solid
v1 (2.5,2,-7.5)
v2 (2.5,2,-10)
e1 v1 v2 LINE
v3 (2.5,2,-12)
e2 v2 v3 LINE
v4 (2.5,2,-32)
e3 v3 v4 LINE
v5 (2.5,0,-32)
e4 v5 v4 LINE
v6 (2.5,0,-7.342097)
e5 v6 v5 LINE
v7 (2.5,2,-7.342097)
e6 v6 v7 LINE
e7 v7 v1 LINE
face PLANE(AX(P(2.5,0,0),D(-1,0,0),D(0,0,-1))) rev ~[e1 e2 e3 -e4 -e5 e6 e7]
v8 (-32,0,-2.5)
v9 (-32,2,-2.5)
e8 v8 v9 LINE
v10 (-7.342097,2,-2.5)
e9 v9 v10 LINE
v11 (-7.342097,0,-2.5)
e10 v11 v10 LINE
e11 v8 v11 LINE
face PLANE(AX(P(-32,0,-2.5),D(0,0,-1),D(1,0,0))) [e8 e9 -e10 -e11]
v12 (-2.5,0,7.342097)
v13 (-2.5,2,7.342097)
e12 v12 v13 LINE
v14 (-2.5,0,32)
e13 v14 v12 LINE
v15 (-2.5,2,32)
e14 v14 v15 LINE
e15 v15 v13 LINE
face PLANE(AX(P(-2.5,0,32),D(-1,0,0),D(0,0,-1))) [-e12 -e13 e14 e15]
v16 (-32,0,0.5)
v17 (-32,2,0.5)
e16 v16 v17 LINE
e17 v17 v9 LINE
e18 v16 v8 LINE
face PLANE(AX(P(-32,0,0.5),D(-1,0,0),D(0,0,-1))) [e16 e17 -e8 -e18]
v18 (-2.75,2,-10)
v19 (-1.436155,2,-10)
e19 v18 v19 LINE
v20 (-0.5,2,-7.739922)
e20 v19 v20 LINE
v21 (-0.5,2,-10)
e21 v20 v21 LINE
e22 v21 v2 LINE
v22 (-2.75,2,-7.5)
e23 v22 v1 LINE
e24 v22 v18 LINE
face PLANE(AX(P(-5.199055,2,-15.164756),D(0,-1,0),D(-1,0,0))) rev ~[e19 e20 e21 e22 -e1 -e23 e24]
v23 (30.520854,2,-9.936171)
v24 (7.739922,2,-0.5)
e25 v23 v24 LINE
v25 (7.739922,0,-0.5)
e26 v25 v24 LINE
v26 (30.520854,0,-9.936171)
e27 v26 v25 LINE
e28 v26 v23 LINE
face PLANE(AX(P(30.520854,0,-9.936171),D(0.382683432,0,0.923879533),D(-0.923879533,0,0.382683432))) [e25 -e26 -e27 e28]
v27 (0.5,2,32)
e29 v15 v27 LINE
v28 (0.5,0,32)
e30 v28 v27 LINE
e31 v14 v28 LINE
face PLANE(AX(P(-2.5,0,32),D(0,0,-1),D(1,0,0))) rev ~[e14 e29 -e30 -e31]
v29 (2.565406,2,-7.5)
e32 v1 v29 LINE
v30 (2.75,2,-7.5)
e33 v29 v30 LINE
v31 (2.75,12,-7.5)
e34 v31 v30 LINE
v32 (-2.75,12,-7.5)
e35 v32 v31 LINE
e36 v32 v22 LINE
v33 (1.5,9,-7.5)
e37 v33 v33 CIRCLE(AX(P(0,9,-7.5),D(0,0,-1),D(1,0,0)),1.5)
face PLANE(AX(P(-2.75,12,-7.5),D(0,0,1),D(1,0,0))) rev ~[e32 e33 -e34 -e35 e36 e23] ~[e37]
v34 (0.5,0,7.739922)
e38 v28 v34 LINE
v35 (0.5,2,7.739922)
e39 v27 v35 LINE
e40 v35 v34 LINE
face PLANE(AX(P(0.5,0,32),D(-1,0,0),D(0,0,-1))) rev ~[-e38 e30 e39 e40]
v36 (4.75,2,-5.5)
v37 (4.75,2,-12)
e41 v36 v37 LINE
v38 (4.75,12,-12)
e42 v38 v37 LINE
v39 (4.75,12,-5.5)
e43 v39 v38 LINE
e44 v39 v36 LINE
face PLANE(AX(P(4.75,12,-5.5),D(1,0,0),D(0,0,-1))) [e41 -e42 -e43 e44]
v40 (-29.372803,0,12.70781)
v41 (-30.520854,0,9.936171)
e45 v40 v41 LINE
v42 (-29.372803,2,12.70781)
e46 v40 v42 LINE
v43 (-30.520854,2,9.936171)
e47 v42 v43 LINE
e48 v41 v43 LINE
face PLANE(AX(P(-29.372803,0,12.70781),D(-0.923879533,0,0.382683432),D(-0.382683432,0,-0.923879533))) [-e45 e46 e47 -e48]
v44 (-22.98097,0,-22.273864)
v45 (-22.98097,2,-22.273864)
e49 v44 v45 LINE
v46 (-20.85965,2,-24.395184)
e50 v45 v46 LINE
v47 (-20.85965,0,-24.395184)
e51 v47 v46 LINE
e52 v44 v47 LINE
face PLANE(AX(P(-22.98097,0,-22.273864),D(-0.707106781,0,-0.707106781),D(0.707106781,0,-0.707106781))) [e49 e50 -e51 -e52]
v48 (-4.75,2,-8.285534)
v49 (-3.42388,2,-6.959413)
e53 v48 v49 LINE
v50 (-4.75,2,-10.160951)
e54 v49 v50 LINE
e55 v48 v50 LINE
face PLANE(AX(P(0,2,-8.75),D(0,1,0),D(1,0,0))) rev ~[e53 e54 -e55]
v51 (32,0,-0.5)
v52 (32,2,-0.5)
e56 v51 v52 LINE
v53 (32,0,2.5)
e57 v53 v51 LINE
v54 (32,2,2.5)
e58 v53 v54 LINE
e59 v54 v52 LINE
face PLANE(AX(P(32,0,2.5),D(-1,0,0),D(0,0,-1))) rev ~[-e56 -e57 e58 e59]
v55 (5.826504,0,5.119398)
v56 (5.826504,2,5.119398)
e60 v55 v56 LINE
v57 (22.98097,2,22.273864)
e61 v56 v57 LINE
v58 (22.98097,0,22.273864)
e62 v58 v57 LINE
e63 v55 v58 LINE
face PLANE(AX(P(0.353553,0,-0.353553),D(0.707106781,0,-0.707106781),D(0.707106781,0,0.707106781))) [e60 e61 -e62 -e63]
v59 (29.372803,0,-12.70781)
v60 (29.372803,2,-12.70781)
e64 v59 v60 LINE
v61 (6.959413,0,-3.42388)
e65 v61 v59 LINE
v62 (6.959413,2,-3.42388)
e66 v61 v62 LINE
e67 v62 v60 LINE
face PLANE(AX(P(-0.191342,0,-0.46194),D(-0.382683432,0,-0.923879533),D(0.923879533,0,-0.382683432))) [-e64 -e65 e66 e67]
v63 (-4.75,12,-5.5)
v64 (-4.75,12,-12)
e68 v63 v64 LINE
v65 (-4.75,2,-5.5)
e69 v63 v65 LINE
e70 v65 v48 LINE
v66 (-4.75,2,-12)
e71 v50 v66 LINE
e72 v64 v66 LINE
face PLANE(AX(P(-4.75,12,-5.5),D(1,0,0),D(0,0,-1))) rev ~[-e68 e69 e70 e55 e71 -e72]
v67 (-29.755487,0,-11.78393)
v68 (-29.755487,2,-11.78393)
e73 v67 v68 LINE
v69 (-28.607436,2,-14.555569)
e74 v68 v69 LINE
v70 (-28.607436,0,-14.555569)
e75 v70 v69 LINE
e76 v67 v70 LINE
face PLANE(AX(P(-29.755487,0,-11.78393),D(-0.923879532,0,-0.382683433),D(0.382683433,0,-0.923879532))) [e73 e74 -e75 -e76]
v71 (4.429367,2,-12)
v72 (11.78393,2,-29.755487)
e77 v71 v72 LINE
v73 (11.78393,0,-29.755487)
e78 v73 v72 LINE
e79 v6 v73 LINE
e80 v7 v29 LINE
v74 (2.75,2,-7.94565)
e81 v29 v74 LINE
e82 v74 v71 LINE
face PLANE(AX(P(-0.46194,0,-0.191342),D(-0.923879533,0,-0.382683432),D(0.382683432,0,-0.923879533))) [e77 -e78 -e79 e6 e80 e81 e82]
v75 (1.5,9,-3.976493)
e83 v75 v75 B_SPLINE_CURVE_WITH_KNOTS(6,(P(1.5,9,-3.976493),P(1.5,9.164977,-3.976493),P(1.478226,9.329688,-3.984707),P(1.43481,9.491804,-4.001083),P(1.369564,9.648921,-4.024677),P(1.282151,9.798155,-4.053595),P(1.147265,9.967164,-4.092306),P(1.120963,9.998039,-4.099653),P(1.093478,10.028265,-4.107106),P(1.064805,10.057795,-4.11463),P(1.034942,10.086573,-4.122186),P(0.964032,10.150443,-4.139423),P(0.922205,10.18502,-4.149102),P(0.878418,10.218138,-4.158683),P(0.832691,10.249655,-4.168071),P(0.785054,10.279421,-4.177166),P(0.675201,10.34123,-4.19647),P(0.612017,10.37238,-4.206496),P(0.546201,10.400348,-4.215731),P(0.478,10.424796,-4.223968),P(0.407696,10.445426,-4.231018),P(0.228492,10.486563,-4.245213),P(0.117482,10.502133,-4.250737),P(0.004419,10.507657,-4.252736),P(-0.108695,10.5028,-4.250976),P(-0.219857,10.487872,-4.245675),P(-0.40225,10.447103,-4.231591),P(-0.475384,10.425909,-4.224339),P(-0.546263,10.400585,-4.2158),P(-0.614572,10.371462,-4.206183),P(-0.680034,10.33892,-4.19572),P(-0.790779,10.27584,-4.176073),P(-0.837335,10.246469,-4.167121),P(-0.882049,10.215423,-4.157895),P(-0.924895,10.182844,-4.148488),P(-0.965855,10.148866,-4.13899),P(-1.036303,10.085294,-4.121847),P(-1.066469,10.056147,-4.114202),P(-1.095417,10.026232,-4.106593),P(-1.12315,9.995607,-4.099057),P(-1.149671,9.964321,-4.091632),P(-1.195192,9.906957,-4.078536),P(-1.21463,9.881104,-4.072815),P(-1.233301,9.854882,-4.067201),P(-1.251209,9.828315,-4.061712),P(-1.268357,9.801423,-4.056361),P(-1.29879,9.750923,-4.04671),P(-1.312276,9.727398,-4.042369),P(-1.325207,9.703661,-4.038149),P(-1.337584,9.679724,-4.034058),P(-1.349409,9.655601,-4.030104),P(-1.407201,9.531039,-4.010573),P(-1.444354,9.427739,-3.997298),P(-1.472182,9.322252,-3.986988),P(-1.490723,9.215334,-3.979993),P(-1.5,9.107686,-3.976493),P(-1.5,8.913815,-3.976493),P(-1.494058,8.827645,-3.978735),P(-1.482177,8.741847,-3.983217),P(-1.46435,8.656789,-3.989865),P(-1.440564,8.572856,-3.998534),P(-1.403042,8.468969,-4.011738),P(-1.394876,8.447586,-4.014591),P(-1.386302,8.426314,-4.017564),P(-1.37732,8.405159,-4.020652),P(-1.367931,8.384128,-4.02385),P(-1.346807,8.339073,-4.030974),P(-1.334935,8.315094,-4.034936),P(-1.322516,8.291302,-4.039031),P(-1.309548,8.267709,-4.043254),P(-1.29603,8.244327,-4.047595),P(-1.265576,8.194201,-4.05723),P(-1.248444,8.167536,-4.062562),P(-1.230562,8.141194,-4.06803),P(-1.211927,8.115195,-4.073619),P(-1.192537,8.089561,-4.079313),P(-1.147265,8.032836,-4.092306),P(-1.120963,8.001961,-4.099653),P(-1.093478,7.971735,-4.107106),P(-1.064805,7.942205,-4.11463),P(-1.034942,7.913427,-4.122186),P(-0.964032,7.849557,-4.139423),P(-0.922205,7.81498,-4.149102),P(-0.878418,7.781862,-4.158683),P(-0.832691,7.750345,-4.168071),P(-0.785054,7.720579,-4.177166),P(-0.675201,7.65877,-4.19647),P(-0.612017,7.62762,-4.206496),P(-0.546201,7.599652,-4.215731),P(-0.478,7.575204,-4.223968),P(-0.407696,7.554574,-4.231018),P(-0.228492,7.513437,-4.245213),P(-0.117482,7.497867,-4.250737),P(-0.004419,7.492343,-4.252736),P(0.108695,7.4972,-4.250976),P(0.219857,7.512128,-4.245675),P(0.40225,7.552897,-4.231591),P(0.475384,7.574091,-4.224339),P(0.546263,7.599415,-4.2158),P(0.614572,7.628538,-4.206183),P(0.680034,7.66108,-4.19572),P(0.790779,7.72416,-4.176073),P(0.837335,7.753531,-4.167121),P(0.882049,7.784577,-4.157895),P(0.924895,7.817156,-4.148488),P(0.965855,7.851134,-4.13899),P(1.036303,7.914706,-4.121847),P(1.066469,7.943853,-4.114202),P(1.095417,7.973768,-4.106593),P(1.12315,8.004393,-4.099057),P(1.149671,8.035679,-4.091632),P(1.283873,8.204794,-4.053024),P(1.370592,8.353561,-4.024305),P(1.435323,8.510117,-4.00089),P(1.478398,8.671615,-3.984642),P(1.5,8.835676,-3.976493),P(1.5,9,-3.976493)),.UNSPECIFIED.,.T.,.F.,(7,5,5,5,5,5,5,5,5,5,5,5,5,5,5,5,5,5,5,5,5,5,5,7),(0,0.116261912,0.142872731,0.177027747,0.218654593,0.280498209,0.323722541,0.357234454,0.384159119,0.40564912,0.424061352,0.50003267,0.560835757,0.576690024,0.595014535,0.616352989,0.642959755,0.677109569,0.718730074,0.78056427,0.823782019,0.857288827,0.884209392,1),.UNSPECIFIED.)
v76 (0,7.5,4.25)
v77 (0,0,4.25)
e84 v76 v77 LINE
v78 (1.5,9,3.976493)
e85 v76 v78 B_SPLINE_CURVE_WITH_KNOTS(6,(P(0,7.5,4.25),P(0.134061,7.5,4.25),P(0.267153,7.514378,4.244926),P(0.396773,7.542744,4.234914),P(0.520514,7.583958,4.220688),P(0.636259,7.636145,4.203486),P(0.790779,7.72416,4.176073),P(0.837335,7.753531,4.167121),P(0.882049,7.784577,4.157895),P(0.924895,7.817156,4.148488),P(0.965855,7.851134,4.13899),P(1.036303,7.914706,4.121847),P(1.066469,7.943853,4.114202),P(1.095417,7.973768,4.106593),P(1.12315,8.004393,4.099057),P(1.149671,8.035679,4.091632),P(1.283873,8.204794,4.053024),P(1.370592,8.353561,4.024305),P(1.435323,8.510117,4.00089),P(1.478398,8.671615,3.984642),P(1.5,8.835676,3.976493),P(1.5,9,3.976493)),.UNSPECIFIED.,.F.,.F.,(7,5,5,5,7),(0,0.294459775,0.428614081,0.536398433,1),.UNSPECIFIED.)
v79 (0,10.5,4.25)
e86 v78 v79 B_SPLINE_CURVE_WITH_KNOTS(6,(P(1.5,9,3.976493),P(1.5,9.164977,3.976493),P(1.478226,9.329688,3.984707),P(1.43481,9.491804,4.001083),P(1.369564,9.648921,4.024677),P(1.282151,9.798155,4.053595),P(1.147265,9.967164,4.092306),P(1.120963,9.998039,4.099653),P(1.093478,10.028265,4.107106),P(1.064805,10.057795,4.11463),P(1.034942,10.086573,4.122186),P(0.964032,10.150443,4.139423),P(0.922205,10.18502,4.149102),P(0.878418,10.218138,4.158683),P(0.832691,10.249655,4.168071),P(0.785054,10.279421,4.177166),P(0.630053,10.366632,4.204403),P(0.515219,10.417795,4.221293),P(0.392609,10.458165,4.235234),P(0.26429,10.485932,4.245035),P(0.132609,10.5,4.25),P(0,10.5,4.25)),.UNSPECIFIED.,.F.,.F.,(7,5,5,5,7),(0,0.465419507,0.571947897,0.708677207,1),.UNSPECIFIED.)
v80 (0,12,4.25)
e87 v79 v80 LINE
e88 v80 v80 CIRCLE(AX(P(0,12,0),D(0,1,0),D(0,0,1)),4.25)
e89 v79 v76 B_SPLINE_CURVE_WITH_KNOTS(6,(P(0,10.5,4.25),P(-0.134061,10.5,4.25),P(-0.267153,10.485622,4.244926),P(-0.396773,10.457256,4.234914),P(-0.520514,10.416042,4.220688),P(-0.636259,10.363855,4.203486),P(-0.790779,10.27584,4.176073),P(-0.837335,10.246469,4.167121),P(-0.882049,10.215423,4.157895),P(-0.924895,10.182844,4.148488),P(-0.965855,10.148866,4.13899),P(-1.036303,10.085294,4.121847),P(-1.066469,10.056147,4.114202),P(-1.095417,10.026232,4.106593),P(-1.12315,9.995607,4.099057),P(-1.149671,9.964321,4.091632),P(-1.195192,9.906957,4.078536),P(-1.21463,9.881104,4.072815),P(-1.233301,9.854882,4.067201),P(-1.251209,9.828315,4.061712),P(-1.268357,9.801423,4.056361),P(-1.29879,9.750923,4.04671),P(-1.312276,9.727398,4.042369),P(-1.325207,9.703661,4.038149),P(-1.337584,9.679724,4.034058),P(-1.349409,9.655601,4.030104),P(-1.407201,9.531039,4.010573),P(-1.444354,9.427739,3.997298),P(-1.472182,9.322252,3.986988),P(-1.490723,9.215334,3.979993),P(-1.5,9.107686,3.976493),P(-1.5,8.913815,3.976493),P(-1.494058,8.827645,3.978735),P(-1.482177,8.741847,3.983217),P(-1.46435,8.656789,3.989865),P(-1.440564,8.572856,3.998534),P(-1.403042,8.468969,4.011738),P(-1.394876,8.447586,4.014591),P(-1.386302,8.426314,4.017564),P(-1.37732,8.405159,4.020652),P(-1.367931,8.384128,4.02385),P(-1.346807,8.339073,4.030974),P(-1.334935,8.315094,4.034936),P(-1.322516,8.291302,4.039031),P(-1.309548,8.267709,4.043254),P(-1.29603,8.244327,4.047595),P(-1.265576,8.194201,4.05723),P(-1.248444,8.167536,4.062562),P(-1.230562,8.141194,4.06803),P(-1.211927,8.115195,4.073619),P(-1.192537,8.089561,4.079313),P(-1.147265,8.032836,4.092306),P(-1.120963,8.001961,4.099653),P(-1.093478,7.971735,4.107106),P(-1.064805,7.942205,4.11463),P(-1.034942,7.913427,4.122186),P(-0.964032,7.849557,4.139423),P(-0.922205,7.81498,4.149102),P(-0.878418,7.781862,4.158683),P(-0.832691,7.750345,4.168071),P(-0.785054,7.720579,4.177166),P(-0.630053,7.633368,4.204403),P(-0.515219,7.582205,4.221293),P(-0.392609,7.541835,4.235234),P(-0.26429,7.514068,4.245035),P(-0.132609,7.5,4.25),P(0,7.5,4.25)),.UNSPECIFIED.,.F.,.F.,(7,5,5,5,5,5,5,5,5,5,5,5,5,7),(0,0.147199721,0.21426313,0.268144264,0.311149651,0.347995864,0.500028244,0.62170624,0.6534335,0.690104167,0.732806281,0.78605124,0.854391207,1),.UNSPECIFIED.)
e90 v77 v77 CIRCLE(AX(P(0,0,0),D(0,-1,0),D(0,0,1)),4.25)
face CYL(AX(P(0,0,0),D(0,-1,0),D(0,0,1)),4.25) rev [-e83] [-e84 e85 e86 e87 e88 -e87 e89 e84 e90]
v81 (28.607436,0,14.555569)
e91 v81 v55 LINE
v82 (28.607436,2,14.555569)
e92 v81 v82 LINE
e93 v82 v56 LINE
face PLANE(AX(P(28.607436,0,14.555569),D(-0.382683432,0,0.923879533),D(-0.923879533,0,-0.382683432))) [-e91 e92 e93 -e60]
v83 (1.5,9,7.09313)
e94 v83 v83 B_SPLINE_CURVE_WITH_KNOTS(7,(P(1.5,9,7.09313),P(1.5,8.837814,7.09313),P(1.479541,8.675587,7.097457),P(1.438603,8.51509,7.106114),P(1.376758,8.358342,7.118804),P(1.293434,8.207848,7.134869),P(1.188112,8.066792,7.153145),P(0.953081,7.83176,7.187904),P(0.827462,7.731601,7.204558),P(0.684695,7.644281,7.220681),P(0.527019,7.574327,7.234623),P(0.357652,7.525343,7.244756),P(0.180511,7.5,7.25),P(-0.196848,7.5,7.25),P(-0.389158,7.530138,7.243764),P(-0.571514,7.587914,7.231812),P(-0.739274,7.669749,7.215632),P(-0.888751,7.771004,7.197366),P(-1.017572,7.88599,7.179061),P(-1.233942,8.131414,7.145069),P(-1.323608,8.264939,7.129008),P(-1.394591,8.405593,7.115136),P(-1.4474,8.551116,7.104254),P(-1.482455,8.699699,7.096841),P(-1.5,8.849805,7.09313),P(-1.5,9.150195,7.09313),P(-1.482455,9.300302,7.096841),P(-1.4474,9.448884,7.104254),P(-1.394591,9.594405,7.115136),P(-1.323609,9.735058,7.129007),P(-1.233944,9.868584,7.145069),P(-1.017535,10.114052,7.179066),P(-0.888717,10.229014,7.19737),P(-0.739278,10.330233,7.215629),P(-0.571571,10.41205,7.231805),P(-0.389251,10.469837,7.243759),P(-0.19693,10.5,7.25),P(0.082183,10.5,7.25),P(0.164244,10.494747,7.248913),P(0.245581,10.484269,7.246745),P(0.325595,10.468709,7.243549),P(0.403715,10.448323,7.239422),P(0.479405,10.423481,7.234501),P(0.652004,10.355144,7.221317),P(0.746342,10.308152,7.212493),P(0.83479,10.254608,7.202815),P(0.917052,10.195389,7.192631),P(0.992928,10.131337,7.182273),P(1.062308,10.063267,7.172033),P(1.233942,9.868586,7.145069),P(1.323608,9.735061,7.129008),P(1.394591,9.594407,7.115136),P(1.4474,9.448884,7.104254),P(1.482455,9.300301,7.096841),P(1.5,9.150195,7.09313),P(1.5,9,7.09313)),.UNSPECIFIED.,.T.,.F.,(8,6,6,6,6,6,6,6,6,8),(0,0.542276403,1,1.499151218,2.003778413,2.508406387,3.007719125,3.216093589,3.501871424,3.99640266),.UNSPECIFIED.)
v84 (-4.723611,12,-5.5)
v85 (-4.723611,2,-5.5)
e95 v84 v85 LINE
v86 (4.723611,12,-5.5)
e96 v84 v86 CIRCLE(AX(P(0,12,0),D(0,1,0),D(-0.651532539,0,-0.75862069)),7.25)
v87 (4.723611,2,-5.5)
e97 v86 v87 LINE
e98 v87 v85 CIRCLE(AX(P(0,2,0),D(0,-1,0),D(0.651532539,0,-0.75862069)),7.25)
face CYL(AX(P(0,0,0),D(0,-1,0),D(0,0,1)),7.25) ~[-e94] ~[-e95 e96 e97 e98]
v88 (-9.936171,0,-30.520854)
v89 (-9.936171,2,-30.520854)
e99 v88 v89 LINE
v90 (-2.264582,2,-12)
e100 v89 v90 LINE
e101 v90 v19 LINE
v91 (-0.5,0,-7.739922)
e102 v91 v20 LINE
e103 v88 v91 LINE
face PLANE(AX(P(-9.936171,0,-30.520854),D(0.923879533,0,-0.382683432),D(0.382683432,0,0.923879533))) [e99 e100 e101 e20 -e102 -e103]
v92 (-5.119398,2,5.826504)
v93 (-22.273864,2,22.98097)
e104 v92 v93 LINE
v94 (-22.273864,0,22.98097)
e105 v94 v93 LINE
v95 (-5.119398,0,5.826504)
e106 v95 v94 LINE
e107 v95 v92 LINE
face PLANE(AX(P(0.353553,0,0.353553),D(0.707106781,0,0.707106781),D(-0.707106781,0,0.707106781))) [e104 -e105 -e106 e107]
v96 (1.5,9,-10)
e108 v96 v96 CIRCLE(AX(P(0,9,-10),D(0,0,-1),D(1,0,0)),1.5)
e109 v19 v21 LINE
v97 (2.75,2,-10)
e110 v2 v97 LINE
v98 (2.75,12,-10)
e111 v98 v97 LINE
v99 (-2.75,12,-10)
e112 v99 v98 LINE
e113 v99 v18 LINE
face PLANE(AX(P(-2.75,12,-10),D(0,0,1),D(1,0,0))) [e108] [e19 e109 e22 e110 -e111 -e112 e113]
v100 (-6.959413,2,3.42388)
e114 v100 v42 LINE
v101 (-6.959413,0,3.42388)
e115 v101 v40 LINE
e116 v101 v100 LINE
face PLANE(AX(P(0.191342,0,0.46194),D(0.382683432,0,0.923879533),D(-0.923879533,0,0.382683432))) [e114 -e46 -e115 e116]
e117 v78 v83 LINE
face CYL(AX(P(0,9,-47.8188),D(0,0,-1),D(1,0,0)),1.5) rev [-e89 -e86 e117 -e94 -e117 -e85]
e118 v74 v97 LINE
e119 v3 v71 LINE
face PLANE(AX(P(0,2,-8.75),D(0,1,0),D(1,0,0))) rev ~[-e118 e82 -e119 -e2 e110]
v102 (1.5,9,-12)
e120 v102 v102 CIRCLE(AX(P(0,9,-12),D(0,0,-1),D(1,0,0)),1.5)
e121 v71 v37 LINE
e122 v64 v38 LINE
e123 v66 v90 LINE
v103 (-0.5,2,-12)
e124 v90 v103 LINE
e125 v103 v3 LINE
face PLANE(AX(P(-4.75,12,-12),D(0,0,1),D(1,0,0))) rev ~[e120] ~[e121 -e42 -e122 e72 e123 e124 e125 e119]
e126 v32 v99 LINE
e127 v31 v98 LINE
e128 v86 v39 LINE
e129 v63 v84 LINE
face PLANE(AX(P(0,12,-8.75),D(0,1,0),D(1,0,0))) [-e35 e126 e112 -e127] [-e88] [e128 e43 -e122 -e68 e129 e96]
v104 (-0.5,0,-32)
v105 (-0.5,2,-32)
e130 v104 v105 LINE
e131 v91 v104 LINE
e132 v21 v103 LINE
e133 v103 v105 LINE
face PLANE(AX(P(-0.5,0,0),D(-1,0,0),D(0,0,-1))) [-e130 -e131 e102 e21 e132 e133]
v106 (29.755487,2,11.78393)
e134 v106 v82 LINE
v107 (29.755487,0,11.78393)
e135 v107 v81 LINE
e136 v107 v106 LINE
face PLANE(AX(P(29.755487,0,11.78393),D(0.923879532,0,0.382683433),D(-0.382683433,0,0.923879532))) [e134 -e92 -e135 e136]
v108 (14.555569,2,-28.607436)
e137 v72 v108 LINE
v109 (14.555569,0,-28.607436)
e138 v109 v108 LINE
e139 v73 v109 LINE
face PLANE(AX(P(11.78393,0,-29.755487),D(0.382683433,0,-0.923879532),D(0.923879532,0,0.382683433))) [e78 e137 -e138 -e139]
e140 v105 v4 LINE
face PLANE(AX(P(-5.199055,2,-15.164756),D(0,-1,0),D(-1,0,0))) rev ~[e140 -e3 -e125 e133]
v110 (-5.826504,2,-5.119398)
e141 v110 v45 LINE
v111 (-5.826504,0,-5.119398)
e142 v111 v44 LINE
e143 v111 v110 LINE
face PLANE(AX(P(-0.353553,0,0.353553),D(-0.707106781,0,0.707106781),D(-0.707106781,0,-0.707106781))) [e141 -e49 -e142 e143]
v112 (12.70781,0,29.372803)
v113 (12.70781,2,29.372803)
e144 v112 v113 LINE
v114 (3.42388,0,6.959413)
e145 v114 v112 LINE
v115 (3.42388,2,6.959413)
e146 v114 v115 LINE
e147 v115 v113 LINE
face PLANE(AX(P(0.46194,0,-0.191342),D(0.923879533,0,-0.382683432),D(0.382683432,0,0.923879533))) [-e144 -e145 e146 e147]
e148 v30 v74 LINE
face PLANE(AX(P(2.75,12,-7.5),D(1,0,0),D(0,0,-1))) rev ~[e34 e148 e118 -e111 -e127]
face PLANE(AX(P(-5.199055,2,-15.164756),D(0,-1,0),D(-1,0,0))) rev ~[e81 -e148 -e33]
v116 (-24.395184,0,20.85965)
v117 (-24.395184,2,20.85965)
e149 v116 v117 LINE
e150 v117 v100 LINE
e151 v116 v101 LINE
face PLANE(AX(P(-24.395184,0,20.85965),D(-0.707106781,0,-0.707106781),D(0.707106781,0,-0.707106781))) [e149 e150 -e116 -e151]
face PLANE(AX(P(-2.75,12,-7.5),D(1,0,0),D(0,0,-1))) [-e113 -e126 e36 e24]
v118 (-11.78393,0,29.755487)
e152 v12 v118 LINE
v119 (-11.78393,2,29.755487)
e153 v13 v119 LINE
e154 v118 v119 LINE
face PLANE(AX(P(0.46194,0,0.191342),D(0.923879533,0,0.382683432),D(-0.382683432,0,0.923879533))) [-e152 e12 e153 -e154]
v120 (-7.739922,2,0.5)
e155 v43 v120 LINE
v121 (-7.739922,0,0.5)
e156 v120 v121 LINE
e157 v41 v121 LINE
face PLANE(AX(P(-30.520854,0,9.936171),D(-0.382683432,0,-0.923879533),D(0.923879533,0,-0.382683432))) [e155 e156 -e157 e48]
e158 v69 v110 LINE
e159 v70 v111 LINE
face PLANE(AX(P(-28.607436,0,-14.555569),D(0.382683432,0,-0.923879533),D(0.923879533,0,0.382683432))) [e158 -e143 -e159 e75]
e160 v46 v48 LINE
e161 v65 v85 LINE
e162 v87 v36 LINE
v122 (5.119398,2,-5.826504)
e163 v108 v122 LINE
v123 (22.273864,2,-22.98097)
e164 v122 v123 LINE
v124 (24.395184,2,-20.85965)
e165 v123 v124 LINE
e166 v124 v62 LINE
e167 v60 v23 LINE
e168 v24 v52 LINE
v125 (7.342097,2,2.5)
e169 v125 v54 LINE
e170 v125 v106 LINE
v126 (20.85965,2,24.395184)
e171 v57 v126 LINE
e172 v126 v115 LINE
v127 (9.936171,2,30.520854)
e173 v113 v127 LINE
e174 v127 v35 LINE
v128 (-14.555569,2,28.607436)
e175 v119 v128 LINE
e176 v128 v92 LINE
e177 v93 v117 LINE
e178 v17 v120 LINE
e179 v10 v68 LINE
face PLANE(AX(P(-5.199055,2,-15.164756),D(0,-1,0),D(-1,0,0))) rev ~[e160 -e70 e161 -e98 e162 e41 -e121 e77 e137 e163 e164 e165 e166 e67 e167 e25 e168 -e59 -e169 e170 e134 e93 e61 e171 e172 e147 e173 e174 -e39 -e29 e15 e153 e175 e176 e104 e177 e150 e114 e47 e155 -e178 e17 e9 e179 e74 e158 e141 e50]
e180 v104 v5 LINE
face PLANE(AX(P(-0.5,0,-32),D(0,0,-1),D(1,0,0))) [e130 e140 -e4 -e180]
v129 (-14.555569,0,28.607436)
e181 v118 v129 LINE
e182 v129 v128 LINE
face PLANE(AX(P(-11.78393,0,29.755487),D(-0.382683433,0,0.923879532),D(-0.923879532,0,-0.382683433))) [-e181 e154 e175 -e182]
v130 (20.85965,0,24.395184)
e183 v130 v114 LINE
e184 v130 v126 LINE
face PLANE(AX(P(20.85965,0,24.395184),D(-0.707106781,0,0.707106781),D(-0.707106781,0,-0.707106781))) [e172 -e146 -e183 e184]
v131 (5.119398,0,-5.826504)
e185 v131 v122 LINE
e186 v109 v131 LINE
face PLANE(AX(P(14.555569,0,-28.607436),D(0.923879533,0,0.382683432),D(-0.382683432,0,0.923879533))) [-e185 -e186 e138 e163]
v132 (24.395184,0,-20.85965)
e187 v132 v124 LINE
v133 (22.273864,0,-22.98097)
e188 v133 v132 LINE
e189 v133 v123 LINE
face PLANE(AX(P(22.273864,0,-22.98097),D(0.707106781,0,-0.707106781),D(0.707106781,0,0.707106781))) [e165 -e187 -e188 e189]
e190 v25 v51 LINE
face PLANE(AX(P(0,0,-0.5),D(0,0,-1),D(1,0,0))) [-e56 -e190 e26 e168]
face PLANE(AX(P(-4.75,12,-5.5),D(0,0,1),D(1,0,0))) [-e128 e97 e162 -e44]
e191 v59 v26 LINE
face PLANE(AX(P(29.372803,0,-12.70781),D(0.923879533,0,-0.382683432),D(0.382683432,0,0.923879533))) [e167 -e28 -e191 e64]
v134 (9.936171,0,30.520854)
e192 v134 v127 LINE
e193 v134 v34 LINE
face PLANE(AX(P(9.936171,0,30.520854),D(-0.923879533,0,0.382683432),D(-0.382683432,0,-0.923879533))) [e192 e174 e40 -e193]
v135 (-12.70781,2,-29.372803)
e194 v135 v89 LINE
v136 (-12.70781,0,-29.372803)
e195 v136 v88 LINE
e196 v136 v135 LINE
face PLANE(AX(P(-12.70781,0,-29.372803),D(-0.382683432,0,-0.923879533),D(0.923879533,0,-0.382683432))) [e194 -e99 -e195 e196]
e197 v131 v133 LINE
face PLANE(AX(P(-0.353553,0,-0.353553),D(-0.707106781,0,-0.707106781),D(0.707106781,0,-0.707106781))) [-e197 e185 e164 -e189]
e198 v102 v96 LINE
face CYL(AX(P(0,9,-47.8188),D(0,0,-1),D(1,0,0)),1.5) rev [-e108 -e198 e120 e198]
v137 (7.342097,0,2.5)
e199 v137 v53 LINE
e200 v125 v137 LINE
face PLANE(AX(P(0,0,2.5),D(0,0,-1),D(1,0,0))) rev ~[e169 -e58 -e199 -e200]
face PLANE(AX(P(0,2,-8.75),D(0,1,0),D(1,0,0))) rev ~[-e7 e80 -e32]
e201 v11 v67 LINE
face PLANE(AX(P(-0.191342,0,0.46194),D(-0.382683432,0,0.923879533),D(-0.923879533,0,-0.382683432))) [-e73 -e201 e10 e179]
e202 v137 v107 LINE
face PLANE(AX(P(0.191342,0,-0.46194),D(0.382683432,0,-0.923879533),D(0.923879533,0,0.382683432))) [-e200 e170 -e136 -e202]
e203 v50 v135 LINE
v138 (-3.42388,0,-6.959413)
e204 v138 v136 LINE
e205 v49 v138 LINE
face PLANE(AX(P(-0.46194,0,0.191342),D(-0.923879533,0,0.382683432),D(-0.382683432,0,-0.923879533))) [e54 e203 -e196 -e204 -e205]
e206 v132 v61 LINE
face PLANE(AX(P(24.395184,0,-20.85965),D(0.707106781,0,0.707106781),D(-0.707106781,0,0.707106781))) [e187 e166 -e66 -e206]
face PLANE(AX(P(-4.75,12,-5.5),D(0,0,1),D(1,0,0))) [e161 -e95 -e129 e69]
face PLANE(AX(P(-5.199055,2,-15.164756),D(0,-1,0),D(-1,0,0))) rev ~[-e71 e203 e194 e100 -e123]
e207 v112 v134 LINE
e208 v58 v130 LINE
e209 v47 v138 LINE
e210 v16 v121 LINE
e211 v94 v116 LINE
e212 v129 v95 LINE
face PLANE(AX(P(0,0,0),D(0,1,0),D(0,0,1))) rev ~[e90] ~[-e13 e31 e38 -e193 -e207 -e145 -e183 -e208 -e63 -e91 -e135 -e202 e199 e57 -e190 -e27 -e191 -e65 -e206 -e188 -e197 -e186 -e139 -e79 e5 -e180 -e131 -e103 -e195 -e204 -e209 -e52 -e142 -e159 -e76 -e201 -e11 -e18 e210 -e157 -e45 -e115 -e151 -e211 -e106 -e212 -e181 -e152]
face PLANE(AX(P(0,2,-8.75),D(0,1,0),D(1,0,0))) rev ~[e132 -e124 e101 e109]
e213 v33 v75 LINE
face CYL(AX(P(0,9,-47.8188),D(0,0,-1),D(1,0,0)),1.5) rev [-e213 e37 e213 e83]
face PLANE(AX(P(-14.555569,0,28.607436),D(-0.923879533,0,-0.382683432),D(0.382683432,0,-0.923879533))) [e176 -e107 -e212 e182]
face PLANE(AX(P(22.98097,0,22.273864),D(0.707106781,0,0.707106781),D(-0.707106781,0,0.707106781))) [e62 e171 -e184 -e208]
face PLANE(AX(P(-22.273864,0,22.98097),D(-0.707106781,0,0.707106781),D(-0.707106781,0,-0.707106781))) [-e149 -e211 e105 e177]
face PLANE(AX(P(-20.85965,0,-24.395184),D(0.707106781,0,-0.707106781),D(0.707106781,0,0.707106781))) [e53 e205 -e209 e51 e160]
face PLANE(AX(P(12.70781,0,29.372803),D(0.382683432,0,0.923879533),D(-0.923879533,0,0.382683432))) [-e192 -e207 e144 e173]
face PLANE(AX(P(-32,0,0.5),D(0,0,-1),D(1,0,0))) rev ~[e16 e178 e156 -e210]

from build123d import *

# Parameters (mm, degrees)
SKETCH1_R               = 7.25
SKETCH1_R_2             = 4.25
SKETCH1_W               = 3
SKETCH1_H               = 32
SKETCH1_W_2             = 32
SKETCH1_H_2             = 3
BOSS_EXTRUDE1_DEPTH     = 2
SKETCH1_3_R             = 7.25
SKETCH1_3_R_2           = 4.25
BOSS_EXTRUDE2_DEPTH     = 12
SKETCH5_W               = 9.5
SKETCH5_H               = 6.5
SKETCH5_W_2             = 5.5
SKETCH5_H_2             = 2.5
BOSS_EXTRUDE3_DEPTH     = 10
CUT_EXTRUDE1_DEPTH      = 47.818799643
CUT_EXTRUDE1_DEPTH_BACK = 47.818799643
SKETCH2_R               = 1.5
CUT_EXTRUDE3_DEPTH      = 47.818799643
CUT_EXTRUDE3_DEPTH_BACK = 47.818799643
SKETCH3_R               = 4.25


with BuildPart() as part:
    # Sketch1 → Boss-Extrude1 (new body)
    # profile 1 of 17: a face of its own
    with BuildSketch(Plane(origin=(0, 0, 0), x_dir=(1, 0, 0), z_dir=(0, 1, 0))):
        Circle(SKETCH1_R)
        Circle(SKETCH1_R_2, mode=Mode.SUBTRACT)
    # profile 2 of 17: a face of its own
    with BuildSketch(Plane(origin=(0, 0, 0), x_dir=(1, 0, 0), z_dir=(0, 1, 0))):
        Polygon((-0.461939766, 0.191341716), (11.783930069, 29.755486757), (14.555568667, 28.607436459), (2.309698831, -0.956708581), align=None)
    # profile 3 of 17: a face of its own
    with BuildSketch(Plane(origin=(0, 0, 0), x_dir=(1, 0, 0), z_dir=(0, 1, 0))):
        with Locations((1, 16)):
            Rectangle(SKETCH1_W, SKETCH1_H)
    # profile 4 of 17: a face of its own
    with BuildSketch(Plane(origin=(0, 0, 0), x_dir=(1, 0, 0), z_dir=(0, 1, 0))):
        Polygon((-0.353553391, 0.353553391), (22.273863607, 22.980970389), (24.395183951, 20.859650045), (1.767766953, -1.767766953), align=None)
    # profile 5 of 17: a face of its own
    with BuildSketch(Plane(origin=(0, 0, 0), x_dir=(1, 0, 0), z_dir=(0, 1, 0))):
        Polygon((-0.191341716, 0.461939766), (29.372803324, 12.707809602), (30.520853621, 9.936171004), (0.956708581, -2.309698831), align=None)
    # profile 6 of 17: a face of its own
    with BuildSketch(Plane(origin=(0, 0, 0), x_dir=(1, 0, 0), z_dir=(0, 1, 0))):
        with Locations((16, -1)):
            Rectangle(SKETCH1_W_2, SKETCH1_H_2)
    # profile 7 of 17: a face of its own
    with BuildSketch(Plane(origin=(0, 0, 0), x_dir=(1, 0, 0), z_dir=(0, 1, 0))):
        Polygon((0.191341716, 0.461939766), (29.755486757, -11.783930069), (28.607436459, -14.555568667), (-0.956708581, -2.309698831), align=None)
    # profile 8 of 17: a face of its own
    with BuildSketch(Plane(origin=(0, 0, 0), x_dir=(1, 0, 0), z_dir=(0, 1, 0))):
        Polygon((0.353553391, 0.353553391), (22.980970389, -22.273863607), (20.859650045, -24.395183951), (-1.767766953, -1.767766953), align=None)
    # profile 9 of 17: a face of its own
    with BuildSketch(Plane(origin=(0, 0, 0), x_dir=(1, 0, 0), z_dir=(0, 1, 0))):
        Polygon((0.461939766, 0.191341716), (12.707809602, -29.372803324), (9.936171004, -30.520853621), (-2.309698831, -0.956708581), align=None)
    # profile 10 of 17: a face of its own
    with BuildSketch(Plane(origin=(0, 0, 0), x_dir=(1, 0, 0), z_dir=(0, 1, 0))):
        with Locations((-1, -16)):
            Rectangle(SKETCH1_W, SKETCH1_H)
    # profile 11 of 17: a face of its own
    with BuildSketch(Plane(origin=(0, 0, 0), x_dir=(1, 0, 0), z_dir=(0, 1, 0))):
        Polygon((0.461939766, -0.191341716), (-11.783930069, -29.755486757), (-14.555568667, -28.607436459), (-2.309698831, 0.956708581), align=None)
    # profile 12 of 17: a face of its own
    with BuildSketch(Plane(origin=(0, 0, 0), x_dir=(1, 0, 0), z_dir=(0, 1, 0))):
        Polygon((0.353553391, -0.353553391), (-22.273863607, -22.980970389), (-24.395183951, -20.859650045), (-1.767766953, 1.767766953), align=None)
    # profile 13 of 17: a face of its own
    with BuildSketch(Plane(origin=(0, 0, 0), x_dir=(1, 0, 0), z_dir=(0, 1, 0))):
        Polygon((0.191341716, -0.461939766), (-29.372803324, -12.707809602), (-30.520853621, -9.936171004), (-0.956708581, 2.309698831), align=None)
    # profile 14 of 17: a face of its own
    with BuildSketch(Plane(origin=(0, 0, 0), x_dir=(1, 0, 0), z_dir=(0, 1, 0))):
        with Locations((-16, 1)):
            Rectangle(SKETCH1_W_2, SKETCH1_H_2)
    # profile 15 of 17: a face of its own
    with BuildSketch(Plane(origin=(0, 0, 0), x_dir=(1, 0, 0), z_dir=(0, 1, 0))):
        Polygon((-0.191341716, -0.461939766), (-29.755486757, 11.783930069), (-28.607436459, 14.555568667), (0.956708581, 2.309698831), align=None)
    # profile 16 of 17: a face of its own
    with BuildSketch(Plane(origin=(0, 0, 0), x_dir=(1, 0, 0), z_dir=(0, 1, 0))):
        Polygon((-0.353553391, -0.353553391), (-22.980970389, 22.273863607), (-20.859650045, 24.395183951), (1.767766953, 1.767766953), align=None)
    # profile 17 of 17: a face of its own
    with BuildSketch(Plane(origin=(0, 0, 0), x_dir=(1, 0, 0), z_dir=(0, 1, 0))):
        Polygon((-0.461939766, -0.191341716), (-12.707809602, 29.372803324), (-9.936171004, 30.520853621), (2.309698831, 0.956708581), align=None)
    extrude(amount=BOSS_EXTRUDE1_DEPTH)

    # Sketch1<3> → Boss-Extrude2 (add)
    with BuildSketch(Plane(origin=(0, 0, 0), x_dir=(1, 0, 0), z_dir=(0, 1, 0))):
        Circle(SKETCH1_3_R)
        Circle(SKETCH1_3_R_2, mode=Mode.SUBTRACT)
    extrude(amount=BOSS_EXTRUDE2_DEPTH)

    # Sketch5 → Boss-Extrude3 (add)
    with BuildSketch(Plane(origin=(0, 12, 0), x_dir=(1, 0, 0), z_dir=(0, 1, 0))):
        with Locations((0, 8.75)):
            Rectangle(SKETCH5_W, SKETCH5_H)
        with Locations((0, 8.75)):
            Rectangle(SKETCH5_W_2, SKETCH5_H_2, mode=Mode.SUBTRACT)
    extrude(amount=-BOSS_EXTRUDE3_DEPTH)

    # Sketch2 → Cut-Extrude1 (cut, two sides: drawn at the far end of the back side and taken through both)
    with BuildSketch(Plane.XY.offset(-CUT_EXTRUDE1_DEPTH_BACK)):
        with Locations((0, 9)):
            Circle(SKETCH2_R)
    extrude(amount=CUT_EXTRUDE1_DEPTH + CUT_EXTRUDE1_DEPTH_BACK, mode=Mode.SUBTRACT)

    # Sketch3 → Cut-Extrude3 (cut, two sides: drawn at the far end of the back side and taken through both)
    with BuildSketch(Plane(origin=(0, 12, 0), x_dir=(1, 0, 0), z_dir=(0, 1, 0)).offset(-CUT_EXTRUDE3_DEPTH_BACK)):
        Circle(SKETCH3_R)
    extrude(amount=CUT_EXTRUDE3_DEPTH + CUT_EXTRUDE3_DEPTH_BACK, mode=Mode.SUBTRACT)


solid = part.part
